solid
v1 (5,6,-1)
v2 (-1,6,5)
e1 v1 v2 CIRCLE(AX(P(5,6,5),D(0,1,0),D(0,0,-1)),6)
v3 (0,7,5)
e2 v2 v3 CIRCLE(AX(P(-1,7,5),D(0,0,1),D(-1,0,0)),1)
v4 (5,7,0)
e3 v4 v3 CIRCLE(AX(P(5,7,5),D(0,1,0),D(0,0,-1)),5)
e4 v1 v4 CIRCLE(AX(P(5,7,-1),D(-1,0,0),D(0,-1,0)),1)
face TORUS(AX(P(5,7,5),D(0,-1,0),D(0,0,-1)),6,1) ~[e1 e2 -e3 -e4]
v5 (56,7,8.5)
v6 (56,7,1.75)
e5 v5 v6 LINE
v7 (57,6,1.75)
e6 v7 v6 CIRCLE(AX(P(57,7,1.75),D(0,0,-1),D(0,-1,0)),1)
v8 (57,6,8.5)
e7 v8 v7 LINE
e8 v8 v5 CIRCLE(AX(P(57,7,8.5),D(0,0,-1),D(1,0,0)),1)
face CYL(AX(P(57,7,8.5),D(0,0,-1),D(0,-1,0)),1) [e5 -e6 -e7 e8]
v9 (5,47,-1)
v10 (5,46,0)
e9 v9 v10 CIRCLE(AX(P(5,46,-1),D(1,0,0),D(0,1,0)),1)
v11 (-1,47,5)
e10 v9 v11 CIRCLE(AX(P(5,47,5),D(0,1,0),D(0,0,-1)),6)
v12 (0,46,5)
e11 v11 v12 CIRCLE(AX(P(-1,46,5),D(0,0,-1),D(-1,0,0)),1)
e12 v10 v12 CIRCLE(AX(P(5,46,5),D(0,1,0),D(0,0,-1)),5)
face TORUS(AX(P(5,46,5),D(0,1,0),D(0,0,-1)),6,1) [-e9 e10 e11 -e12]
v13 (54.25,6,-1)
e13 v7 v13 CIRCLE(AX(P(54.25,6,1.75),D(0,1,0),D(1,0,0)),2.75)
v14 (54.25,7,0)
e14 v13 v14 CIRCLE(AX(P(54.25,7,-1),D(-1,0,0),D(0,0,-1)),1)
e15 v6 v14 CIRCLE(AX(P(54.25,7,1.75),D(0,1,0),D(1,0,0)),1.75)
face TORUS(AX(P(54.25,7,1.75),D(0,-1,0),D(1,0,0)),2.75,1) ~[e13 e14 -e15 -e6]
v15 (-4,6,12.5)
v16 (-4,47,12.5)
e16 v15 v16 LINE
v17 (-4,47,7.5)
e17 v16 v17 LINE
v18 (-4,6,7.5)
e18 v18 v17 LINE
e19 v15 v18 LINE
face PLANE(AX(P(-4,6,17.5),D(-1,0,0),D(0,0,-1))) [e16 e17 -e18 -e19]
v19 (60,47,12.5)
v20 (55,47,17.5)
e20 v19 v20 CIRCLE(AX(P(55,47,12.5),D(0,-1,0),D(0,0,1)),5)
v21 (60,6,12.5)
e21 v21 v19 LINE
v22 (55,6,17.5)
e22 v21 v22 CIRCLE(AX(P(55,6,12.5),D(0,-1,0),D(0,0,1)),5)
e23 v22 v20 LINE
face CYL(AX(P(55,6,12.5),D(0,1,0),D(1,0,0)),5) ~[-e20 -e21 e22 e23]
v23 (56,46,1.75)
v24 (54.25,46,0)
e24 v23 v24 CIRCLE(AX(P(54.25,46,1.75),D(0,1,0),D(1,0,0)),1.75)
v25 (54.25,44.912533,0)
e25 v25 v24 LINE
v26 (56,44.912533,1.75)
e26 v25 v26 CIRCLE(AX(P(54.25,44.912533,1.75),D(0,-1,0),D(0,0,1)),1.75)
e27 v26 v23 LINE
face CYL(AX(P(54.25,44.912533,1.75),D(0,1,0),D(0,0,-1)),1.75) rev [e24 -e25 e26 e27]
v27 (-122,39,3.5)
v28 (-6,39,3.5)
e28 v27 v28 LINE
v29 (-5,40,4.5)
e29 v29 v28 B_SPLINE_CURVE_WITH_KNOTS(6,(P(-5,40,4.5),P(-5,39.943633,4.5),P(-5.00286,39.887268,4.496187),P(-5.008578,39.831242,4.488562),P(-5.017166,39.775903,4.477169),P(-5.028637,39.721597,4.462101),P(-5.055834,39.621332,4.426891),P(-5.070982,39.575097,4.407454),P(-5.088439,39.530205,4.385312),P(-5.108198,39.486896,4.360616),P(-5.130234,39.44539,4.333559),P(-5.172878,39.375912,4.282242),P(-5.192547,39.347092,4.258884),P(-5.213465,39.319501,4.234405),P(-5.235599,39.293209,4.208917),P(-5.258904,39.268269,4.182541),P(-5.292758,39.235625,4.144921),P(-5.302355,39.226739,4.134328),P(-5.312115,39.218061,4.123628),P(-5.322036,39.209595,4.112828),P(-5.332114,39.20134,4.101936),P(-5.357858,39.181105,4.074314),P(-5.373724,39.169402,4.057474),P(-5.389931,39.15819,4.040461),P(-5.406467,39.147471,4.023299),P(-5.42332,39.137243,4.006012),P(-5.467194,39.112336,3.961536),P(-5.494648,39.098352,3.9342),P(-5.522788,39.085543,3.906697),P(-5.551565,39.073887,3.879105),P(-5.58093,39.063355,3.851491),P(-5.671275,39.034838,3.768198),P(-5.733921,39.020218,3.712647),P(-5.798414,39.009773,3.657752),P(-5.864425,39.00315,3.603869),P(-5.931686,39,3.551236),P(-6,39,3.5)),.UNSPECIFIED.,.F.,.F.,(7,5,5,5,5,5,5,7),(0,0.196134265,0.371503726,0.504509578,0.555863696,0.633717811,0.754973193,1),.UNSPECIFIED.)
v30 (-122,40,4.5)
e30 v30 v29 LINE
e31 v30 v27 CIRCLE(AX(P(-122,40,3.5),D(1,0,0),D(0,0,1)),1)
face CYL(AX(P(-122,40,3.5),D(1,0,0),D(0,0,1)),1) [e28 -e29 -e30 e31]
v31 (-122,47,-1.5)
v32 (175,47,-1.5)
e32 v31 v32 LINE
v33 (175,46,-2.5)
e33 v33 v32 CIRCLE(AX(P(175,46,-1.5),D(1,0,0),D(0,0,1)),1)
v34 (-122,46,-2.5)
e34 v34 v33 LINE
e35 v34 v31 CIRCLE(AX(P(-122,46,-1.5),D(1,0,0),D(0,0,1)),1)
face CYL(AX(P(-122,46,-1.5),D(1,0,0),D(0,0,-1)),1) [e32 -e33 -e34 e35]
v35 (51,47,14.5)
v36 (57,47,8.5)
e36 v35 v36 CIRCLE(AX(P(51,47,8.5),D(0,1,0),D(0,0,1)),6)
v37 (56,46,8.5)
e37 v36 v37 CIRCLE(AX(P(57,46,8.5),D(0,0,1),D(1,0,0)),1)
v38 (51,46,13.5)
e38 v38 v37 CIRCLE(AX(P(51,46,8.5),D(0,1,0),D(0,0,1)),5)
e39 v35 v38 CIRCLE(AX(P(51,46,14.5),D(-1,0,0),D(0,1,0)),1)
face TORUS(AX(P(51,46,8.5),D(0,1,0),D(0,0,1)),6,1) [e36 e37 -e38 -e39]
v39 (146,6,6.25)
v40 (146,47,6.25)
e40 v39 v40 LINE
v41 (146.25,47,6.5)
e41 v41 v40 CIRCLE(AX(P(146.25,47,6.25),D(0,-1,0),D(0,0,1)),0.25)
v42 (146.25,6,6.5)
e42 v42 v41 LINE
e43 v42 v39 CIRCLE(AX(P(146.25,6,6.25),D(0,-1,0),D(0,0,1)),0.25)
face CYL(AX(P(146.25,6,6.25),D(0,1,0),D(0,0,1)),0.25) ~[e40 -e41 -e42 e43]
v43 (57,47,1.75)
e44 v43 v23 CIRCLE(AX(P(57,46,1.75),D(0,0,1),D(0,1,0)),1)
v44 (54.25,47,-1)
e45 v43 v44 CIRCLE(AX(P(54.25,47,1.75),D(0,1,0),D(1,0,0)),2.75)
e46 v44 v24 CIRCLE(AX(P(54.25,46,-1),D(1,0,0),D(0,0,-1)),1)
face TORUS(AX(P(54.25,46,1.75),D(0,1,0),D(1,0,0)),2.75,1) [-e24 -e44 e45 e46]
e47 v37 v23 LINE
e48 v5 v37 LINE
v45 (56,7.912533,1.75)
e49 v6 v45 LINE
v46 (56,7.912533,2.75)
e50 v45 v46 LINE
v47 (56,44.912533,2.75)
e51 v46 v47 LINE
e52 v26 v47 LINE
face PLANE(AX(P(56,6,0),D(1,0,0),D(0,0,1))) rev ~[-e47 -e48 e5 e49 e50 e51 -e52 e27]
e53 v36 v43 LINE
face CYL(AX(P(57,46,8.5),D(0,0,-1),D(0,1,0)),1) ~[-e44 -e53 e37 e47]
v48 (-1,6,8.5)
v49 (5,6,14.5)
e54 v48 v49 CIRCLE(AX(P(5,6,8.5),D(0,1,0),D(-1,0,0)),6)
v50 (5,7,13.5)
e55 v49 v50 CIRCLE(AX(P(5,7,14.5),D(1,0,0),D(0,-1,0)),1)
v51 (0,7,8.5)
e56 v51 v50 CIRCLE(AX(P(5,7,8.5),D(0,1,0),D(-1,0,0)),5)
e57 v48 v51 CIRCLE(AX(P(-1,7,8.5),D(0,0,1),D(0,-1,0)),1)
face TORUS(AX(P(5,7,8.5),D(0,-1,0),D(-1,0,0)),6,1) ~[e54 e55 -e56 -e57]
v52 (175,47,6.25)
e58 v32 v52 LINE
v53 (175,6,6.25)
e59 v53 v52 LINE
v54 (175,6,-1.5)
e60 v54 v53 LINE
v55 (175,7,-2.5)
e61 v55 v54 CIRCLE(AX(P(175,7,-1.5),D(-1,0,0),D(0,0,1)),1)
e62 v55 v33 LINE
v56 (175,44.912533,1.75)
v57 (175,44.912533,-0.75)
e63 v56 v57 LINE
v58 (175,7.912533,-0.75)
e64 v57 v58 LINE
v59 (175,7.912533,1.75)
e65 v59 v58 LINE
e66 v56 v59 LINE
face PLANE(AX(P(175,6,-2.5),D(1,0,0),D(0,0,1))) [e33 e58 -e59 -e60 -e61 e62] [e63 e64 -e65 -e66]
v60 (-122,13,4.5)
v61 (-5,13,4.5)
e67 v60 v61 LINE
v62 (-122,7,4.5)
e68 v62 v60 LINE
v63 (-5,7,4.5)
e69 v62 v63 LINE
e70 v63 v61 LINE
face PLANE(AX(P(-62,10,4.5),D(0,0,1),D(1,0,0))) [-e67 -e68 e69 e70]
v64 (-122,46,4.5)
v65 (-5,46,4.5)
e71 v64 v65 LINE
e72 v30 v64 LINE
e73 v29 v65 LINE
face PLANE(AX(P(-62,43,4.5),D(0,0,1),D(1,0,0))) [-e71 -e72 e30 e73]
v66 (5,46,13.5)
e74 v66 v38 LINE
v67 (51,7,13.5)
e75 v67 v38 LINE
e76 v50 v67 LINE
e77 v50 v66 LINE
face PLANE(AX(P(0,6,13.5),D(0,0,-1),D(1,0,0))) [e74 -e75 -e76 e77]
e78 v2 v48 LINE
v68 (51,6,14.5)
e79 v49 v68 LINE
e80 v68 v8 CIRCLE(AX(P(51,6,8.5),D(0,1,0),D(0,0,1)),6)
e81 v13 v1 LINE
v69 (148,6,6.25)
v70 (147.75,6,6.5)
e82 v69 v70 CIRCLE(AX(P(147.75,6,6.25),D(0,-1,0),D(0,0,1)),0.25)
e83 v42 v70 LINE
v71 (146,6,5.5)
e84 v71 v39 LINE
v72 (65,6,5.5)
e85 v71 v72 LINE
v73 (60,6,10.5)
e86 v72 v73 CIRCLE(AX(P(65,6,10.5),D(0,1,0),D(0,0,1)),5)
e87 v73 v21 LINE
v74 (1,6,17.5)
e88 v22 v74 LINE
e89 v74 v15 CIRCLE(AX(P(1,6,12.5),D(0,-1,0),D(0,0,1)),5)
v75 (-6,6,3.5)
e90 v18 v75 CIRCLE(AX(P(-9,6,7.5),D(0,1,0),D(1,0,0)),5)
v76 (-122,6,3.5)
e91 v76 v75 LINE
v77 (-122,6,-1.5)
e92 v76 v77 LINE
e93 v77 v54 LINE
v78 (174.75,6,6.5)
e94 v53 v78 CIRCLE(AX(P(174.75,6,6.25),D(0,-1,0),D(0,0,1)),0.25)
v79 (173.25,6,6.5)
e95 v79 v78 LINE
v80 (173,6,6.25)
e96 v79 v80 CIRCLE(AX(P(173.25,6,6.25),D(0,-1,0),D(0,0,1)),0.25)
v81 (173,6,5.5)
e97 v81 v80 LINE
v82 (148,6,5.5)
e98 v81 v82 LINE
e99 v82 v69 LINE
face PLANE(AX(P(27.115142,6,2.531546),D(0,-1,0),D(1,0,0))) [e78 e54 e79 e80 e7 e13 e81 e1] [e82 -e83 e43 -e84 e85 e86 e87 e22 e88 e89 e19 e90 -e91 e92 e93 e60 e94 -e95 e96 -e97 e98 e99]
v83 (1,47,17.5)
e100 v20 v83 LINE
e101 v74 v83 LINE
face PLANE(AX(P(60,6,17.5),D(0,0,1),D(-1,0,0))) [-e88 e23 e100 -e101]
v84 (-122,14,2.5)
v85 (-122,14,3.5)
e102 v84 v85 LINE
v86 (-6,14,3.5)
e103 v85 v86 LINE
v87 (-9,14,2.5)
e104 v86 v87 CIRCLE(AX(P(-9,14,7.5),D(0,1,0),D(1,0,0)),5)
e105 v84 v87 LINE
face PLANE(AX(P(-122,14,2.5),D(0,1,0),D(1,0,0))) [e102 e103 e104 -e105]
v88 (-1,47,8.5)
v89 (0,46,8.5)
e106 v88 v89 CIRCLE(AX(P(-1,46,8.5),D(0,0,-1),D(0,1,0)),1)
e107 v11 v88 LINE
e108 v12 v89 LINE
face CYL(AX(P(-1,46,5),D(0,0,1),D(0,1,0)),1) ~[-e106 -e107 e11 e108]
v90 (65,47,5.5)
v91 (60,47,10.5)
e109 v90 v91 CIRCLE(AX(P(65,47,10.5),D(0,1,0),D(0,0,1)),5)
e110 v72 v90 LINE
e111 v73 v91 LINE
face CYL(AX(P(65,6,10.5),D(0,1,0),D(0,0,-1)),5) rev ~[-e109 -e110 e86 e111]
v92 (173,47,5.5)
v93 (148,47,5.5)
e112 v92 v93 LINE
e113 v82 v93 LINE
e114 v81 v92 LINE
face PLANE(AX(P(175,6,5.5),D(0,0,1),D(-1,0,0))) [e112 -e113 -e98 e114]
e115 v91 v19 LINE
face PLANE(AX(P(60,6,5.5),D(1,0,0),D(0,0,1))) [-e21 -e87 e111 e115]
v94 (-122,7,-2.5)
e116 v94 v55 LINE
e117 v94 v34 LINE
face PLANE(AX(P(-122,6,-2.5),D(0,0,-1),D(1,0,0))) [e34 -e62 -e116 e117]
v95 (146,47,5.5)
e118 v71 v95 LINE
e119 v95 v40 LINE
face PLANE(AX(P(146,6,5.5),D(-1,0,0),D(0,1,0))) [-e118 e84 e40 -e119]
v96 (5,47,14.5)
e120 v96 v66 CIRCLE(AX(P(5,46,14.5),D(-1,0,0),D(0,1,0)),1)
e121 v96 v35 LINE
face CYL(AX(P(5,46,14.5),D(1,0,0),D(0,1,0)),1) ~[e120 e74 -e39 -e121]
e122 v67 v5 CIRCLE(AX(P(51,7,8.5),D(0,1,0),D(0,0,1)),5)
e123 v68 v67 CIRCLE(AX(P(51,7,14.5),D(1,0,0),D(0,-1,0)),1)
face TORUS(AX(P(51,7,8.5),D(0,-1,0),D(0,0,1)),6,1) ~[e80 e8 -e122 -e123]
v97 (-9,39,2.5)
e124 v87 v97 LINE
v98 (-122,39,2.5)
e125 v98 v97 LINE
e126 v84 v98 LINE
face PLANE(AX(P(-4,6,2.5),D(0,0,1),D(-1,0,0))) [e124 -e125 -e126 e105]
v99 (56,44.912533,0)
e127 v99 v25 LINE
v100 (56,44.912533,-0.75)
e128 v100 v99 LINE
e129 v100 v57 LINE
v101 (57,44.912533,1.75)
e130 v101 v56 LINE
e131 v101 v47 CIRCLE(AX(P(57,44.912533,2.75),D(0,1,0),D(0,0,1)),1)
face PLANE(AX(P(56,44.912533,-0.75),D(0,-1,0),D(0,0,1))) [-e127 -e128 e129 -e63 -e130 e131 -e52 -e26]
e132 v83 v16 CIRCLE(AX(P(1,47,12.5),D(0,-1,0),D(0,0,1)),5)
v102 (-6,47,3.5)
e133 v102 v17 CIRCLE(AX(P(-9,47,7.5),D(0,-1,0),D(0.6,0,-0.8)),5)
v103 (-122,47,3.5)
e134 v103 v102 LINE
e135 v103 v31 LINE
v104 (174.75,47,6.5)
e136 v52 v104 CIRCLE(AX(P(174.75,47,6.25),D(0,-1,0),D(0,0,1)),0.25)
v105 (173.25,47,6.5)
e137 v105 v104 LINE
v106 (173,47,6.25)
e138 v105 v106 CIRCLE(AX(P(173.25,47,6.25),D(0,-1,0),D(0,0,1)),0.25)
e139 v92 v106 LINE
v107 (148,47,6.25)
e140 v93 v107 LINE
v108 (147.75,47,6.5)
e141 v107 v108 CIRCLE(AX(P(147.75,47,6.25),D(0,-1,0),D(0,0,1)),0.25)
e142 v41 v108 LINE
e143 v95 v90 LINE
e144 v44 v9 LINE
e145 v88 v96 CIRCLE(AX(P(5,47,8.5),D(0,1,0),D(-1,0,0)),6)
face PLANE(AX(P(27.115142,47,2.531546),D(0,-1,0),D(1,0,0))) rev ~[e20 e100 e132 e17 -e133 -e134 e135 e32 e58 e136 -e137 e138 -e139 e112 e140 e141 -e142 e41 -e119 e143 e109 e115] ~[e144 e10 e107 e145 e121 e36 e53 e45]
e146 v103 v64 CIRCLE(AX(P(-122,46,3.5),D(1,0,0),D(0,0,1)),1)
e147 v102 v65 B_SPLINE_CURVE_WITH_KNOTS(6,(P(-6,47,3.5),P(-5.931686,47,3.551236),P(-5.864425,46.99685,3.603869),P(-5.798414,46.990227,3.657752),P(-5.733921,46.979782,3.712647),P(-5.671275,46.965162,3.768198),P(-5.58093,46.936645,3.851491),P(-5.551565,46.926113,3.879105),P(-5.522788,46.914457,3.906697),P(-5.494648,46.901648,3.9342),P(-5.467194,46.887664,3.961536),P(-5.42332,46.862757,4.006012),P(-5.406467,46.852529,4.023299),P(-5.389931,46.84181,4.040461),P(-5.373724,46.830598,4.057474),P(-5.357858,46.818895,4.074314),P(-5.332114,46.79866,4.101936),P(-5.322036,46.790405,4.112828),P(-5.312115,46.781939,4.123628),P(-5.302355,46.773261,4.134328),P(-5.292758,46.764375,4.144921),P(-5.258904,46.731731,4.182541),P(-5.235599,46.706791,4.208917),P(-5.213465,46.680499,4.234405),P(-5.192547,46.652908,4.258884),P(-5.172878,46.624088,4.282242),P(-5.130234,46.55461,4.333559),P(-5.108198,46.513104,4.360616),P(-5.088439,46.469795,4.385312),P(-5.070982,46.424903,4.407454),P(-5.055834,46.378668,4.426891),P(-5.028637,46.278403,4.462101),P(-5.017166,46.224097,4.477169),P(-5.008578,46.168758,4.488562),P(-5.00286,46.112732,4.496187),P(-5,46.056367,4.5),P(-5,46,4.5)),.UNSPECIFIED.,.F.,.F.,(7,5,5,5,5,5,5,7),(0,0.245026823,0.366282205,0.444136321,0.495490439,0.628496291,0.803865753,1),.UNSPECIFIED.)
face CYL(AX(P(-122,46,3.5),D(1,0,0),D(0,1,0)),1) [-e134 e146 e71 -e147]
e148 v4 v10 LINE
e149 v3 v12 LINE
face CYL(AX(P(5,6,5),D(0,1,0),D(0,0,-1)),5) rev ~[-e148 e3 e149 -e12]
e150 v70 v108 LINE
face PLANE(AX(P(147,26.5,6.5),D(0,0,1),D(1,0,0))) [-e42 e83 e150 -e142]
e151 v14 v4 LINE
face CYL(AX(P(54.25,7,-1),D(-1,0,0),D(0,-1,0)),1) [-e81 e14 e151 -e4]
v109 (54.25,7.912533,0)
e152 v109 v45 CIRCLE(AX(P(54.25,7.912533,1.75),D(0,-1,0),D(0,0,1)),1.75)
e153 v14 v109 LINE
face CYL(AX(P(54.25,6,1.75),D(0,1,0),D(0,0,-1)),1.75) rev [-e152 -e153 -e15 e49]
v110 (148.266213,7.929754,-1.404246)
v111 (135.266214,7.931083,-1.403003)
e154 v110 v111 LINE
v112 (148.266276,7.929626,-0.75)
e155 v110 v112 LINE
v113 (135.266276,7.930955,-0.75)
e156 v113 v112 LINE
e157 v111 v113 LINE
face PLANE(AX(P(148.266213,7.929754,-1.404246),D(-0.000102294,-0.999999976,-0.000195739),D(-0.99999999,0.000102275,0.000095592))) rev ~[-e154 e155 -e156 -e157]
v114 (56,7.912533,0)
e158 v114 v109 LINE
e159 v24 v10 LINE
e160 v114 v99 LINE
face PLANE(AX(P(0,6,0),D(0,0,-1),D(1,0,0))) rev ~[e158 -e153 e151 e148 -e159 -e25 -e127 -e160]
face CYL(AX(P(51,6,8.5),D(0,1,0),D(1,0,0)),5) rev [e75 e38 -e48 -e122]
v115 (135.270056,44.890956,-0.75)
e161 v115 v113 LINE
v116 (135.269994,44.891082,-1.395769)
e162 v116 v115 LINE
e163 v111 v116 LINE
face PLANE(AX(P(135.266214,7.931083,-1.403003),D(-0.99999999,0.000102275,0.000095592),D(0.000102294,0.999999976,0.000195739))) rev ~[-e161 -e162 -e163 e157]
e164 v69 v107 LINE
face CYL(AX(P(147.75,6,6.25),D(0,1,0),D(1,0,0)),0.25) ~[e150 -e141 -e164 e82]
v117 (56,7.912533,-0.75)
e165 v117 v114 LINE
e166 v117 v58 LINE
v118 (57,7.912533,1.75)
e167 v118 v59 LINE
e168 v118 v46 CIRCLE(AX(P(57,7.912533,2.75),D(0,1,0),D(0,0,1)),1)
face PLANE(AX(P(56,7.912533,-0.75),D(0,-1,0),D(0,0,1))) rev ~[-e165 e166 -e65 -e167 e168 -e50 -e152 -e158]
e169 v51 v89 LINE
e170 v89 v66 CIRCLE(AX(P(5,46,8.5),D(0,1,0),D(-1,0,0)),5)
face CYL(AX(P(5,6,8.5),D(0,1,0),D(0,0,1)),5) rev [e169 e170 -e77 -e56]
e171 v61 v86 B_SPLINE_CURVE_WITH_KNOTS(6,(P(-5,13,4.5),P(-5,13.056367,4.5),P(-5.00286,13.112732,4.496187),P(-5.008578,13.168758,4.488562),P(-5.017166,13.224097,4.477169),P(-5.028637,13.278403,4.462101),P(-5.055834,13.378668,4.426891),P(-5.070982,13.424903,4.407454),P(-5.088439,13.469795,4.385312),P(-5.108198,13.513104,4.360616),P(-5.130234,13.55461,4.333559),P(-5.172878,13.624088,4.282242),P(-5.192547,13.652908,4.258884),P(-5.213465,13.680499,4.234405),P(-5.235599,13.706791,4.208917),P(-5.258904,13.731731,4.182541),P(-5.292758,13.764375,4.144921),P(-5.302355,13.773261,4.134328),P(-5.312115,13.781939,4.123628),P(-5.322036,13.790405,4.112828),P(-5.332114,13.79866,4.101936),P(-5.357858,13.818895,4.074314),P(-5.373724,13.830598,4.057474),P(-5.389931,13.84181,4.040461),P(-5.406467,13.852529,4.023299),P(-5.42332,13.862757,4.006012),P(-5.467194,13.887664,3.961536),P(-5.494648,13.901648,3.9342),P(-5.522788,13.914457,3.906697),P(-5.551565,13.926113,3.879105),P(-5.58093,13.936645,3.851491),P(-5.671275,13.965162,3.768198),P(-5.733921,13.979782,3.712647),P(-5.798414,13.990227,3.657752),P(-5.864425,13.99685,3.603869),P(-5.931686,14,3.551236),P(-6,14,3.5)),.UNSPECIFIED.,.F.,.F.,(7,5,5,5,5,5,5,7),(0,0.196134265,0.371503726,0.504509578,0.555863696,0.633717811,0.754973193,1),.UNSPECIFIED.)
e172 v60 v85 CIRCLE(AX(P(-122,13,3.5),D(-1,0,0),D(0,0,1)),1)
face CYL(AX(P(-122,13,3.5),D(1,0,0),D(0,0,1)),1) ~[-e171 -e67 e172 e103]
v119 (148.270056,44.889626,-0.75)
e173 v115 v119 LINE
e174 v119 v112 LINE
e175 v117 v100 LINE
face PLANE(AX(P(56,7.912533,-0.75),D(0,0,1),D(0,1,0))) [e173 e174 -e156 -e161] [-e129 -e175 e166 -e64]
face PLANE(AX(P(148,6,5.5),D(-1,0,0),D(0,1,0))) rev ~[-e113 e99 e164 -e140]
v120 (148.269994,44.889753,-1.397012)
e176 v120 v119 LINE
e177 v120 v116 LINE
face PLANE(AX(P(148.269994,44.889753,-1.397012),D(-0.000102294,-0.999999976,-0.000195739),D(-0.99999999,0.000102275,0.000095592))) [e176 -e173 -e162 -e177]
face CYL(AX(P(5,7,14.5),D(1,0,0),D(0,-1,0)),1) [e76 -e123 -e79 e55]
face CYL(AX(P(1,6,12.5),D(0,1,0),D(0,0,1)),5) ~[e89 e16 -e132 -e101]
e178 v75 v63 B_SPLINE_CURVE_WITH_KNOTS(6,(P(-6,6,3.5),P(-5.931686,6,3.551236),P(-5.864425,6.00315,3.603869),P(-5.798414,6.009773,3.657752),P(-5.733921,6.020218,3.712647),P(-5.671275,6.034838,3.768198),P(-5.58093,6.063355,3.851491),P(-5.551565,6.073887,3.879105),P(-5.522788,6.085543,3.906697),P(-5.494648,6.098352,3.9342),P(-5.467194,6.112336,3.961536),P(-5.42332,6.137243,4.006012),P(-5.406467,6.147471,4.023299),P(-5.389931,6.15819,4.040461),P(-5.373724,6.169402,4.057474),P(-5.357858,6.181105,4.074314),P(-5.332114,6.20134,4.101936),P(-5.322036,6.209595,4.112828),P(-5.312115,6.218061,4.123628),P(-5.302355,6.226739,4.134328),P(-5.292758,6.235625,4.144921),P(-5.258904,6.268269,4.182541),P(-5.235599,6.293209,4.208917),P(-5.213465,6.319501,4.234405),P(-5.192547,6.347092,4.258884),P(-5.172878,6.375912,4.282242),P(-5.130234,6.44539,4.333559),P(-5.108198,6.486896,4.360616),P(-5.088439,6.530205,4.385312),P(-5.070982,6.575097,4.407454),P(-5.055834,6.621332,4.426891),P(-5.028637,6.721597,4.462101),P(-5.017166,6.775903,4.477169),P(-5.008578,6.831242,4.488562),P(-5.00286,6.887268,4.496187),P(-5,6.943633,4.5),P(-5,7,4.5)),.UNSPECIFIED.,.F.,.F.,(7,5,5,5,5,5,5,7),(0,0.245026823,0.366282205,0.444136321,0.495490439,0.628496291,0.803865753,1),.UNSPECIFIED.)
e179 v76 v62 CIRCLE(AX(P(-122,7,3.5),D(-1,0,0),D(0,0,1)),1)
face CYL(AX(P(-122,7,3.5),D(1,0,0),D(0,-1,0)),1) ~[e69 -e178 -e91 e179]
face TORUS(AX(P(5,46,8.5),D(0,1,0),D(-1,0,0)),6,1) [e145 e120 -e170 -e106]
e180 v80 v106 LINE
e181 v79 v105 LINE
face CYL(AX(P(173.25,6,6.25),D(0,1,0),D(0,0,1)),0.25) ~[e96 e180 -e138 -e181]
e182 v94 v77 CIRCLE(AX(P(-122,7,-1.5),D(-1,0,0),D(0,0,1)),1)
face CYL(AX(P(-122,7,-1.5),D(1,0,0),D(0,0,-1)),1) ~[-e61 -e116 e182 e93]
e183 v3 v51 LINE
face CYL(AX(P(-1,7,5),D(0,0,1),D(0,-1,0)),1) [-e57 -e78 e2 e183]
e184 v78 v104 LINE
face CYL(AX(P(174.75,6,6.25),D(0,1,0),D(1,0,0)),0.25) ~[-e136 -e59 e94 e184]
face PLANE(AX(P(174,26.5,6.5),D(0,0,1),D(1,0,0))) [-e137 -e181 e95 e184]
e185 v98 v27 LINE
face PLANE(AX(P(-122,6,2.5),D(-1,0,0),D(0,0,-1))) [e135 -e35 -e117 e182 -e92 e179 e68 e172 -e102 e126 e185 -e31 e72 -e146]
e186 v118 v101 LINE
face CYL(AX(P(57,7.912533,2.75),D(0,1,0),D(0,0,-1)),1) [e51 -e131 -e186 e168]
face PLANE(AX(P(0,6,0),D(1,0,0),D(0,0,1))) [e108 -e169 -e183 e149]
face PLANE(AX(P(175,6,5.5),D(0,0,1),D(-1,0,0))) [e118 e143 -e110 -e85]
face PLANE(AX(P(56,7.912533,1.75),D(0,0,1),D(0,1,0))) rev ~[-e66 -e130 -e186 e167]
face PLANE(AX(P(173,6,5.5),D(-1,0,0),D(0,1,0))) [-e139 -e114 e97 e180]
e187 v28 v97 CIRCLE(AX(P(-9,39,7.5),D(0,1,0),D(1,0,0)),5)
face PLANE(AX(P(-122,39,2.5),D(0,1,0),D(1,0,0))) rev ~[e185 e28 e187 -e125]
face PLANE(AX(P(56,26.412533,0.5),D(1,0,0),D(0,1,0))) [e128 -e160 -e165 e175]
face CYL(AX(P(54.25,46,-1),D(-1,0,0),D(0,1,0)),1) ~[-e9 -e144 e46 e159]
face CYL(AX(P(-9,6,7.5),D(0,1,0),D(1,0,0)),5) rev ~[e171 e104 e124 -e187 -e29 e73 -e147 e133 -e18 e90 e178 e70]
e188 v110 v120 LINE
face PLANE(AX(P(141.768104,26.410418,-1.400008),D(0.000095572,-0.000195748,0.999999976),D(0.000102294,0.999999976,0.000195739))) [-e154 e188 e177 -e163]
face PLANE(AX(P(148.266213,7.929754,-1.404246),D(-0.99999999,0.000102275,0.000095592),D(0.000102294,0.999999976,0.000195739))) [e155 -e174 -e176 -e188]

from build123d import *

# Parameters (mm, degrees)
SKETCH037_W                               = 2
SKETCH037_H                               = 41
EXTRUDE036_DEPTH                          = 1
SKETCH032_AS_DRAWN_W                      = 36.96
SKETCH032_AS_DRAWN_H                      = 13
EXTRUDE030_DEPTH                          = 2
EXTRUDE030_ONTO_SKETCH032_ROLL_ANGLE      = 0.005477
EXTRUDE030_ONTO_SKETCH032_PITCH_ANGLE     = -0.011215
EXTRUDE030_ONTO_SKETCH032_PLACEMENT_ANGLE = 89.994139
SKETCH031_W                               = 37
SKETCH031_H                               = 2.5
EXTRUDE029_DEPTH                          = 120
SKETCH030_W                               = 56
SKETCH030_H                               = 13.5
EXTRUDE028_DEPTH                          = 41
FILLET009_R                               = 5
FILLET010_R                               = 1.75
SKETCH036_W                               = 120
SKETCH036_H                               = 8
EXTRUDE035_DEPTH                          = 2
FILLET011_R                               = 1
FILLET012_R                               = 1
FILLET013_R                               = 0.25
FILLET014_R                               = 1


with BuildPart() as velcroborder:
    # Sketch037 → Extrude036 (new body)
    with BuildSketch(Plane.XY.offset(5.5)):
        with Locations((174, 26.5)):
            Rectangle(SKETCH037_W, SKETCH037_H)
        with Locations((147, 26.5)):
            Rectangle(SKETCH037_W, SKETCH037_H)
    extrude(amount=EXTRUDE036_DEPTH)


with BuildPart() as sensorcuts:
    # Sketch032 as drawn → Extrude030 (new)
    with BuildSketch(Plane.XY):
        with Locations((-0.07, -91)):
            Rectangle(SKETCH032_AS_DRAWN_W, SKETCH032_AS_DRAWN_H)
    extrude(amount=EXTRUDE030_DEPTH)


with BuildPart() as sensorcuts_1:
    # Extrude030 onto Sketch032 roll: moved
    add(sensorcuts.part.rotate(Axis((0, 0, 0), (1, 0, 0)), EXTRUDE030_ONTO_SKETCH032_ROLL_ANGLE))


with BuildPart() as sensorcuts_2:
    # Extrude030 onto Sketch032 pitch: moved
    add(sensorcuts_1.part.rotate(Axis((0, 0, 0), (0, 1, 0)), EXTRUDE030_ONTO_SKETCH032_PITCH_ANGLE))


with BuildPart() as sensorcuts_3:
    # Extrude030 onto Sketch032 placement: moved
    add(sensorcuts_2.part.moved(Location((50.768112, 26.489725, 2.608705))).rotate(Axis((50.768112, 26.489725, 2.608705), (0, 0, 1)), EXTRUDE030_ONTO_SKETCH032_PLACEMENT_ANGLE))


with BuildPart() as sensorcuts_4:
    # Extrude030 placement: moved
    add(sensorcuts_3.part.moved(Location((0, 0, -4))))


with BuildPart() as extrude029:
    # Sketch031 → Extrude029 (new body)
    with BuildSketch(Plane.YZ.offset(56)):
        with Locations((26.412533, 0.5)):
            Rectangle(SKETCH031_W, SKETCH031_H)
    extrude(amount=EXTRUDE029_DEPTH)


with BuildPart() as band003:
    # Sketch030 → Extrude028 (new body)
    with BuildSketch(Plane.XZ.offset(-6)):
        Polygon((175, 5.5), (60, 5.5), (60, 17.5), (-4, 17.5), (-4, 2.5), (-122, 2.5), (-122, -2.5), (175, -2.5), align=None)
        with Locations((28, 6.75)):
            Rectangle(SKETCH030_W, SKETCH030_H, mode=Mode.SUBTRACT)
    extrude(amount=-EXTRUDE028_DEPTH)

    # Cut002: cut Extrude029
    add(extrude029.part, mode=Mode.SUBTRACT)

    # Cut003: cut sensorCuts
    add(sensorcuts_4.part, mode=Mode.SUBTRACT)

    # Fillet009
    fillet009_edges = [band003.edges().sort_by_distance(p)[0] for p in [
        (60, 26.5, 5.5),
        (60, 26.5, 17.5),
        (-4, 26.5, 17.5),
        (-4, 26.5, 2.5),
        (0, 26.5, 0),
        (0, 26.5, 13.5),
        (56, 26.5, 13.5),
    ]]
    fillet(fillet009_edges, radius=FILLET009_R)

    # Fillet010
    fillet010_edges = [band003.edges().sort_by_distance(p)[0] for p in [
        (56, 6.956266, 0),
        (56, 45.956266, 0),
    ]]
    fillet(fillet010_edges, radius=FILLET010_R)


with BuildPart() as fillet014:
    # Sketch036 → Extrude035 (new body)
    with BuildSketch(Plane.XY.offset(2.5)):
        with Locations((-62, 43)):
            Rectangle(SKETCH036_W, SKETCH036_H)
        with Locations((-62, 10)):
            Rectangle(SKETCH036_W, SKETCH036_H)
    extrude(amount=EXTRUDE035_DEPTH)

    # Fusion011: union velcroBorder, band003
    add(velcroborder.part)
    add(band003.part)

    # Fillet011
    fillet011_edges = [fillet014.edges().sort_by_distance(p)[0] for p in [
        (56, 26.412533, 1.75),
    ]]
    fillet(fillet011_edges, radius=FILLET011_R)

    # Fillet012
    fillet012_edges = [fillet014.edges().sort_by_distance(p)[0] for p in [
        (26.5, 6, -2.5),
        (26.5, 47, -2.5),
        (-63.5, 6, 4.5),
        (-63.5, 47, 4.5),
        (-63.5, 39, 4.5),
        (-63.5, 14, 4.5),
    ]]
    fillet(fillet012_edges, radius=FILLET012_R)

    # Fillet013
    fillet013_edges = [fillet014.edges().sort_by_distance(p)[0] for p in [
        (175, 26.5, 6.5),
        (173, 26.5, 6.5),
        (148, 26.5, 6.5),
        (146, 26.5, 6.5),
    ]]
    fillet(fillet013_edges, radius=FILLET013_R)

    # Fillet014
    fillet014_edges = [fillet014.edges().sort_by_distance(p)[0] for p in [
        (28, 6, 13.5),
        (28, 47, 13.5),
    ]]
    fillet(fillet014_edges, radius=FILLET014_R)


solid = fillet014.part
